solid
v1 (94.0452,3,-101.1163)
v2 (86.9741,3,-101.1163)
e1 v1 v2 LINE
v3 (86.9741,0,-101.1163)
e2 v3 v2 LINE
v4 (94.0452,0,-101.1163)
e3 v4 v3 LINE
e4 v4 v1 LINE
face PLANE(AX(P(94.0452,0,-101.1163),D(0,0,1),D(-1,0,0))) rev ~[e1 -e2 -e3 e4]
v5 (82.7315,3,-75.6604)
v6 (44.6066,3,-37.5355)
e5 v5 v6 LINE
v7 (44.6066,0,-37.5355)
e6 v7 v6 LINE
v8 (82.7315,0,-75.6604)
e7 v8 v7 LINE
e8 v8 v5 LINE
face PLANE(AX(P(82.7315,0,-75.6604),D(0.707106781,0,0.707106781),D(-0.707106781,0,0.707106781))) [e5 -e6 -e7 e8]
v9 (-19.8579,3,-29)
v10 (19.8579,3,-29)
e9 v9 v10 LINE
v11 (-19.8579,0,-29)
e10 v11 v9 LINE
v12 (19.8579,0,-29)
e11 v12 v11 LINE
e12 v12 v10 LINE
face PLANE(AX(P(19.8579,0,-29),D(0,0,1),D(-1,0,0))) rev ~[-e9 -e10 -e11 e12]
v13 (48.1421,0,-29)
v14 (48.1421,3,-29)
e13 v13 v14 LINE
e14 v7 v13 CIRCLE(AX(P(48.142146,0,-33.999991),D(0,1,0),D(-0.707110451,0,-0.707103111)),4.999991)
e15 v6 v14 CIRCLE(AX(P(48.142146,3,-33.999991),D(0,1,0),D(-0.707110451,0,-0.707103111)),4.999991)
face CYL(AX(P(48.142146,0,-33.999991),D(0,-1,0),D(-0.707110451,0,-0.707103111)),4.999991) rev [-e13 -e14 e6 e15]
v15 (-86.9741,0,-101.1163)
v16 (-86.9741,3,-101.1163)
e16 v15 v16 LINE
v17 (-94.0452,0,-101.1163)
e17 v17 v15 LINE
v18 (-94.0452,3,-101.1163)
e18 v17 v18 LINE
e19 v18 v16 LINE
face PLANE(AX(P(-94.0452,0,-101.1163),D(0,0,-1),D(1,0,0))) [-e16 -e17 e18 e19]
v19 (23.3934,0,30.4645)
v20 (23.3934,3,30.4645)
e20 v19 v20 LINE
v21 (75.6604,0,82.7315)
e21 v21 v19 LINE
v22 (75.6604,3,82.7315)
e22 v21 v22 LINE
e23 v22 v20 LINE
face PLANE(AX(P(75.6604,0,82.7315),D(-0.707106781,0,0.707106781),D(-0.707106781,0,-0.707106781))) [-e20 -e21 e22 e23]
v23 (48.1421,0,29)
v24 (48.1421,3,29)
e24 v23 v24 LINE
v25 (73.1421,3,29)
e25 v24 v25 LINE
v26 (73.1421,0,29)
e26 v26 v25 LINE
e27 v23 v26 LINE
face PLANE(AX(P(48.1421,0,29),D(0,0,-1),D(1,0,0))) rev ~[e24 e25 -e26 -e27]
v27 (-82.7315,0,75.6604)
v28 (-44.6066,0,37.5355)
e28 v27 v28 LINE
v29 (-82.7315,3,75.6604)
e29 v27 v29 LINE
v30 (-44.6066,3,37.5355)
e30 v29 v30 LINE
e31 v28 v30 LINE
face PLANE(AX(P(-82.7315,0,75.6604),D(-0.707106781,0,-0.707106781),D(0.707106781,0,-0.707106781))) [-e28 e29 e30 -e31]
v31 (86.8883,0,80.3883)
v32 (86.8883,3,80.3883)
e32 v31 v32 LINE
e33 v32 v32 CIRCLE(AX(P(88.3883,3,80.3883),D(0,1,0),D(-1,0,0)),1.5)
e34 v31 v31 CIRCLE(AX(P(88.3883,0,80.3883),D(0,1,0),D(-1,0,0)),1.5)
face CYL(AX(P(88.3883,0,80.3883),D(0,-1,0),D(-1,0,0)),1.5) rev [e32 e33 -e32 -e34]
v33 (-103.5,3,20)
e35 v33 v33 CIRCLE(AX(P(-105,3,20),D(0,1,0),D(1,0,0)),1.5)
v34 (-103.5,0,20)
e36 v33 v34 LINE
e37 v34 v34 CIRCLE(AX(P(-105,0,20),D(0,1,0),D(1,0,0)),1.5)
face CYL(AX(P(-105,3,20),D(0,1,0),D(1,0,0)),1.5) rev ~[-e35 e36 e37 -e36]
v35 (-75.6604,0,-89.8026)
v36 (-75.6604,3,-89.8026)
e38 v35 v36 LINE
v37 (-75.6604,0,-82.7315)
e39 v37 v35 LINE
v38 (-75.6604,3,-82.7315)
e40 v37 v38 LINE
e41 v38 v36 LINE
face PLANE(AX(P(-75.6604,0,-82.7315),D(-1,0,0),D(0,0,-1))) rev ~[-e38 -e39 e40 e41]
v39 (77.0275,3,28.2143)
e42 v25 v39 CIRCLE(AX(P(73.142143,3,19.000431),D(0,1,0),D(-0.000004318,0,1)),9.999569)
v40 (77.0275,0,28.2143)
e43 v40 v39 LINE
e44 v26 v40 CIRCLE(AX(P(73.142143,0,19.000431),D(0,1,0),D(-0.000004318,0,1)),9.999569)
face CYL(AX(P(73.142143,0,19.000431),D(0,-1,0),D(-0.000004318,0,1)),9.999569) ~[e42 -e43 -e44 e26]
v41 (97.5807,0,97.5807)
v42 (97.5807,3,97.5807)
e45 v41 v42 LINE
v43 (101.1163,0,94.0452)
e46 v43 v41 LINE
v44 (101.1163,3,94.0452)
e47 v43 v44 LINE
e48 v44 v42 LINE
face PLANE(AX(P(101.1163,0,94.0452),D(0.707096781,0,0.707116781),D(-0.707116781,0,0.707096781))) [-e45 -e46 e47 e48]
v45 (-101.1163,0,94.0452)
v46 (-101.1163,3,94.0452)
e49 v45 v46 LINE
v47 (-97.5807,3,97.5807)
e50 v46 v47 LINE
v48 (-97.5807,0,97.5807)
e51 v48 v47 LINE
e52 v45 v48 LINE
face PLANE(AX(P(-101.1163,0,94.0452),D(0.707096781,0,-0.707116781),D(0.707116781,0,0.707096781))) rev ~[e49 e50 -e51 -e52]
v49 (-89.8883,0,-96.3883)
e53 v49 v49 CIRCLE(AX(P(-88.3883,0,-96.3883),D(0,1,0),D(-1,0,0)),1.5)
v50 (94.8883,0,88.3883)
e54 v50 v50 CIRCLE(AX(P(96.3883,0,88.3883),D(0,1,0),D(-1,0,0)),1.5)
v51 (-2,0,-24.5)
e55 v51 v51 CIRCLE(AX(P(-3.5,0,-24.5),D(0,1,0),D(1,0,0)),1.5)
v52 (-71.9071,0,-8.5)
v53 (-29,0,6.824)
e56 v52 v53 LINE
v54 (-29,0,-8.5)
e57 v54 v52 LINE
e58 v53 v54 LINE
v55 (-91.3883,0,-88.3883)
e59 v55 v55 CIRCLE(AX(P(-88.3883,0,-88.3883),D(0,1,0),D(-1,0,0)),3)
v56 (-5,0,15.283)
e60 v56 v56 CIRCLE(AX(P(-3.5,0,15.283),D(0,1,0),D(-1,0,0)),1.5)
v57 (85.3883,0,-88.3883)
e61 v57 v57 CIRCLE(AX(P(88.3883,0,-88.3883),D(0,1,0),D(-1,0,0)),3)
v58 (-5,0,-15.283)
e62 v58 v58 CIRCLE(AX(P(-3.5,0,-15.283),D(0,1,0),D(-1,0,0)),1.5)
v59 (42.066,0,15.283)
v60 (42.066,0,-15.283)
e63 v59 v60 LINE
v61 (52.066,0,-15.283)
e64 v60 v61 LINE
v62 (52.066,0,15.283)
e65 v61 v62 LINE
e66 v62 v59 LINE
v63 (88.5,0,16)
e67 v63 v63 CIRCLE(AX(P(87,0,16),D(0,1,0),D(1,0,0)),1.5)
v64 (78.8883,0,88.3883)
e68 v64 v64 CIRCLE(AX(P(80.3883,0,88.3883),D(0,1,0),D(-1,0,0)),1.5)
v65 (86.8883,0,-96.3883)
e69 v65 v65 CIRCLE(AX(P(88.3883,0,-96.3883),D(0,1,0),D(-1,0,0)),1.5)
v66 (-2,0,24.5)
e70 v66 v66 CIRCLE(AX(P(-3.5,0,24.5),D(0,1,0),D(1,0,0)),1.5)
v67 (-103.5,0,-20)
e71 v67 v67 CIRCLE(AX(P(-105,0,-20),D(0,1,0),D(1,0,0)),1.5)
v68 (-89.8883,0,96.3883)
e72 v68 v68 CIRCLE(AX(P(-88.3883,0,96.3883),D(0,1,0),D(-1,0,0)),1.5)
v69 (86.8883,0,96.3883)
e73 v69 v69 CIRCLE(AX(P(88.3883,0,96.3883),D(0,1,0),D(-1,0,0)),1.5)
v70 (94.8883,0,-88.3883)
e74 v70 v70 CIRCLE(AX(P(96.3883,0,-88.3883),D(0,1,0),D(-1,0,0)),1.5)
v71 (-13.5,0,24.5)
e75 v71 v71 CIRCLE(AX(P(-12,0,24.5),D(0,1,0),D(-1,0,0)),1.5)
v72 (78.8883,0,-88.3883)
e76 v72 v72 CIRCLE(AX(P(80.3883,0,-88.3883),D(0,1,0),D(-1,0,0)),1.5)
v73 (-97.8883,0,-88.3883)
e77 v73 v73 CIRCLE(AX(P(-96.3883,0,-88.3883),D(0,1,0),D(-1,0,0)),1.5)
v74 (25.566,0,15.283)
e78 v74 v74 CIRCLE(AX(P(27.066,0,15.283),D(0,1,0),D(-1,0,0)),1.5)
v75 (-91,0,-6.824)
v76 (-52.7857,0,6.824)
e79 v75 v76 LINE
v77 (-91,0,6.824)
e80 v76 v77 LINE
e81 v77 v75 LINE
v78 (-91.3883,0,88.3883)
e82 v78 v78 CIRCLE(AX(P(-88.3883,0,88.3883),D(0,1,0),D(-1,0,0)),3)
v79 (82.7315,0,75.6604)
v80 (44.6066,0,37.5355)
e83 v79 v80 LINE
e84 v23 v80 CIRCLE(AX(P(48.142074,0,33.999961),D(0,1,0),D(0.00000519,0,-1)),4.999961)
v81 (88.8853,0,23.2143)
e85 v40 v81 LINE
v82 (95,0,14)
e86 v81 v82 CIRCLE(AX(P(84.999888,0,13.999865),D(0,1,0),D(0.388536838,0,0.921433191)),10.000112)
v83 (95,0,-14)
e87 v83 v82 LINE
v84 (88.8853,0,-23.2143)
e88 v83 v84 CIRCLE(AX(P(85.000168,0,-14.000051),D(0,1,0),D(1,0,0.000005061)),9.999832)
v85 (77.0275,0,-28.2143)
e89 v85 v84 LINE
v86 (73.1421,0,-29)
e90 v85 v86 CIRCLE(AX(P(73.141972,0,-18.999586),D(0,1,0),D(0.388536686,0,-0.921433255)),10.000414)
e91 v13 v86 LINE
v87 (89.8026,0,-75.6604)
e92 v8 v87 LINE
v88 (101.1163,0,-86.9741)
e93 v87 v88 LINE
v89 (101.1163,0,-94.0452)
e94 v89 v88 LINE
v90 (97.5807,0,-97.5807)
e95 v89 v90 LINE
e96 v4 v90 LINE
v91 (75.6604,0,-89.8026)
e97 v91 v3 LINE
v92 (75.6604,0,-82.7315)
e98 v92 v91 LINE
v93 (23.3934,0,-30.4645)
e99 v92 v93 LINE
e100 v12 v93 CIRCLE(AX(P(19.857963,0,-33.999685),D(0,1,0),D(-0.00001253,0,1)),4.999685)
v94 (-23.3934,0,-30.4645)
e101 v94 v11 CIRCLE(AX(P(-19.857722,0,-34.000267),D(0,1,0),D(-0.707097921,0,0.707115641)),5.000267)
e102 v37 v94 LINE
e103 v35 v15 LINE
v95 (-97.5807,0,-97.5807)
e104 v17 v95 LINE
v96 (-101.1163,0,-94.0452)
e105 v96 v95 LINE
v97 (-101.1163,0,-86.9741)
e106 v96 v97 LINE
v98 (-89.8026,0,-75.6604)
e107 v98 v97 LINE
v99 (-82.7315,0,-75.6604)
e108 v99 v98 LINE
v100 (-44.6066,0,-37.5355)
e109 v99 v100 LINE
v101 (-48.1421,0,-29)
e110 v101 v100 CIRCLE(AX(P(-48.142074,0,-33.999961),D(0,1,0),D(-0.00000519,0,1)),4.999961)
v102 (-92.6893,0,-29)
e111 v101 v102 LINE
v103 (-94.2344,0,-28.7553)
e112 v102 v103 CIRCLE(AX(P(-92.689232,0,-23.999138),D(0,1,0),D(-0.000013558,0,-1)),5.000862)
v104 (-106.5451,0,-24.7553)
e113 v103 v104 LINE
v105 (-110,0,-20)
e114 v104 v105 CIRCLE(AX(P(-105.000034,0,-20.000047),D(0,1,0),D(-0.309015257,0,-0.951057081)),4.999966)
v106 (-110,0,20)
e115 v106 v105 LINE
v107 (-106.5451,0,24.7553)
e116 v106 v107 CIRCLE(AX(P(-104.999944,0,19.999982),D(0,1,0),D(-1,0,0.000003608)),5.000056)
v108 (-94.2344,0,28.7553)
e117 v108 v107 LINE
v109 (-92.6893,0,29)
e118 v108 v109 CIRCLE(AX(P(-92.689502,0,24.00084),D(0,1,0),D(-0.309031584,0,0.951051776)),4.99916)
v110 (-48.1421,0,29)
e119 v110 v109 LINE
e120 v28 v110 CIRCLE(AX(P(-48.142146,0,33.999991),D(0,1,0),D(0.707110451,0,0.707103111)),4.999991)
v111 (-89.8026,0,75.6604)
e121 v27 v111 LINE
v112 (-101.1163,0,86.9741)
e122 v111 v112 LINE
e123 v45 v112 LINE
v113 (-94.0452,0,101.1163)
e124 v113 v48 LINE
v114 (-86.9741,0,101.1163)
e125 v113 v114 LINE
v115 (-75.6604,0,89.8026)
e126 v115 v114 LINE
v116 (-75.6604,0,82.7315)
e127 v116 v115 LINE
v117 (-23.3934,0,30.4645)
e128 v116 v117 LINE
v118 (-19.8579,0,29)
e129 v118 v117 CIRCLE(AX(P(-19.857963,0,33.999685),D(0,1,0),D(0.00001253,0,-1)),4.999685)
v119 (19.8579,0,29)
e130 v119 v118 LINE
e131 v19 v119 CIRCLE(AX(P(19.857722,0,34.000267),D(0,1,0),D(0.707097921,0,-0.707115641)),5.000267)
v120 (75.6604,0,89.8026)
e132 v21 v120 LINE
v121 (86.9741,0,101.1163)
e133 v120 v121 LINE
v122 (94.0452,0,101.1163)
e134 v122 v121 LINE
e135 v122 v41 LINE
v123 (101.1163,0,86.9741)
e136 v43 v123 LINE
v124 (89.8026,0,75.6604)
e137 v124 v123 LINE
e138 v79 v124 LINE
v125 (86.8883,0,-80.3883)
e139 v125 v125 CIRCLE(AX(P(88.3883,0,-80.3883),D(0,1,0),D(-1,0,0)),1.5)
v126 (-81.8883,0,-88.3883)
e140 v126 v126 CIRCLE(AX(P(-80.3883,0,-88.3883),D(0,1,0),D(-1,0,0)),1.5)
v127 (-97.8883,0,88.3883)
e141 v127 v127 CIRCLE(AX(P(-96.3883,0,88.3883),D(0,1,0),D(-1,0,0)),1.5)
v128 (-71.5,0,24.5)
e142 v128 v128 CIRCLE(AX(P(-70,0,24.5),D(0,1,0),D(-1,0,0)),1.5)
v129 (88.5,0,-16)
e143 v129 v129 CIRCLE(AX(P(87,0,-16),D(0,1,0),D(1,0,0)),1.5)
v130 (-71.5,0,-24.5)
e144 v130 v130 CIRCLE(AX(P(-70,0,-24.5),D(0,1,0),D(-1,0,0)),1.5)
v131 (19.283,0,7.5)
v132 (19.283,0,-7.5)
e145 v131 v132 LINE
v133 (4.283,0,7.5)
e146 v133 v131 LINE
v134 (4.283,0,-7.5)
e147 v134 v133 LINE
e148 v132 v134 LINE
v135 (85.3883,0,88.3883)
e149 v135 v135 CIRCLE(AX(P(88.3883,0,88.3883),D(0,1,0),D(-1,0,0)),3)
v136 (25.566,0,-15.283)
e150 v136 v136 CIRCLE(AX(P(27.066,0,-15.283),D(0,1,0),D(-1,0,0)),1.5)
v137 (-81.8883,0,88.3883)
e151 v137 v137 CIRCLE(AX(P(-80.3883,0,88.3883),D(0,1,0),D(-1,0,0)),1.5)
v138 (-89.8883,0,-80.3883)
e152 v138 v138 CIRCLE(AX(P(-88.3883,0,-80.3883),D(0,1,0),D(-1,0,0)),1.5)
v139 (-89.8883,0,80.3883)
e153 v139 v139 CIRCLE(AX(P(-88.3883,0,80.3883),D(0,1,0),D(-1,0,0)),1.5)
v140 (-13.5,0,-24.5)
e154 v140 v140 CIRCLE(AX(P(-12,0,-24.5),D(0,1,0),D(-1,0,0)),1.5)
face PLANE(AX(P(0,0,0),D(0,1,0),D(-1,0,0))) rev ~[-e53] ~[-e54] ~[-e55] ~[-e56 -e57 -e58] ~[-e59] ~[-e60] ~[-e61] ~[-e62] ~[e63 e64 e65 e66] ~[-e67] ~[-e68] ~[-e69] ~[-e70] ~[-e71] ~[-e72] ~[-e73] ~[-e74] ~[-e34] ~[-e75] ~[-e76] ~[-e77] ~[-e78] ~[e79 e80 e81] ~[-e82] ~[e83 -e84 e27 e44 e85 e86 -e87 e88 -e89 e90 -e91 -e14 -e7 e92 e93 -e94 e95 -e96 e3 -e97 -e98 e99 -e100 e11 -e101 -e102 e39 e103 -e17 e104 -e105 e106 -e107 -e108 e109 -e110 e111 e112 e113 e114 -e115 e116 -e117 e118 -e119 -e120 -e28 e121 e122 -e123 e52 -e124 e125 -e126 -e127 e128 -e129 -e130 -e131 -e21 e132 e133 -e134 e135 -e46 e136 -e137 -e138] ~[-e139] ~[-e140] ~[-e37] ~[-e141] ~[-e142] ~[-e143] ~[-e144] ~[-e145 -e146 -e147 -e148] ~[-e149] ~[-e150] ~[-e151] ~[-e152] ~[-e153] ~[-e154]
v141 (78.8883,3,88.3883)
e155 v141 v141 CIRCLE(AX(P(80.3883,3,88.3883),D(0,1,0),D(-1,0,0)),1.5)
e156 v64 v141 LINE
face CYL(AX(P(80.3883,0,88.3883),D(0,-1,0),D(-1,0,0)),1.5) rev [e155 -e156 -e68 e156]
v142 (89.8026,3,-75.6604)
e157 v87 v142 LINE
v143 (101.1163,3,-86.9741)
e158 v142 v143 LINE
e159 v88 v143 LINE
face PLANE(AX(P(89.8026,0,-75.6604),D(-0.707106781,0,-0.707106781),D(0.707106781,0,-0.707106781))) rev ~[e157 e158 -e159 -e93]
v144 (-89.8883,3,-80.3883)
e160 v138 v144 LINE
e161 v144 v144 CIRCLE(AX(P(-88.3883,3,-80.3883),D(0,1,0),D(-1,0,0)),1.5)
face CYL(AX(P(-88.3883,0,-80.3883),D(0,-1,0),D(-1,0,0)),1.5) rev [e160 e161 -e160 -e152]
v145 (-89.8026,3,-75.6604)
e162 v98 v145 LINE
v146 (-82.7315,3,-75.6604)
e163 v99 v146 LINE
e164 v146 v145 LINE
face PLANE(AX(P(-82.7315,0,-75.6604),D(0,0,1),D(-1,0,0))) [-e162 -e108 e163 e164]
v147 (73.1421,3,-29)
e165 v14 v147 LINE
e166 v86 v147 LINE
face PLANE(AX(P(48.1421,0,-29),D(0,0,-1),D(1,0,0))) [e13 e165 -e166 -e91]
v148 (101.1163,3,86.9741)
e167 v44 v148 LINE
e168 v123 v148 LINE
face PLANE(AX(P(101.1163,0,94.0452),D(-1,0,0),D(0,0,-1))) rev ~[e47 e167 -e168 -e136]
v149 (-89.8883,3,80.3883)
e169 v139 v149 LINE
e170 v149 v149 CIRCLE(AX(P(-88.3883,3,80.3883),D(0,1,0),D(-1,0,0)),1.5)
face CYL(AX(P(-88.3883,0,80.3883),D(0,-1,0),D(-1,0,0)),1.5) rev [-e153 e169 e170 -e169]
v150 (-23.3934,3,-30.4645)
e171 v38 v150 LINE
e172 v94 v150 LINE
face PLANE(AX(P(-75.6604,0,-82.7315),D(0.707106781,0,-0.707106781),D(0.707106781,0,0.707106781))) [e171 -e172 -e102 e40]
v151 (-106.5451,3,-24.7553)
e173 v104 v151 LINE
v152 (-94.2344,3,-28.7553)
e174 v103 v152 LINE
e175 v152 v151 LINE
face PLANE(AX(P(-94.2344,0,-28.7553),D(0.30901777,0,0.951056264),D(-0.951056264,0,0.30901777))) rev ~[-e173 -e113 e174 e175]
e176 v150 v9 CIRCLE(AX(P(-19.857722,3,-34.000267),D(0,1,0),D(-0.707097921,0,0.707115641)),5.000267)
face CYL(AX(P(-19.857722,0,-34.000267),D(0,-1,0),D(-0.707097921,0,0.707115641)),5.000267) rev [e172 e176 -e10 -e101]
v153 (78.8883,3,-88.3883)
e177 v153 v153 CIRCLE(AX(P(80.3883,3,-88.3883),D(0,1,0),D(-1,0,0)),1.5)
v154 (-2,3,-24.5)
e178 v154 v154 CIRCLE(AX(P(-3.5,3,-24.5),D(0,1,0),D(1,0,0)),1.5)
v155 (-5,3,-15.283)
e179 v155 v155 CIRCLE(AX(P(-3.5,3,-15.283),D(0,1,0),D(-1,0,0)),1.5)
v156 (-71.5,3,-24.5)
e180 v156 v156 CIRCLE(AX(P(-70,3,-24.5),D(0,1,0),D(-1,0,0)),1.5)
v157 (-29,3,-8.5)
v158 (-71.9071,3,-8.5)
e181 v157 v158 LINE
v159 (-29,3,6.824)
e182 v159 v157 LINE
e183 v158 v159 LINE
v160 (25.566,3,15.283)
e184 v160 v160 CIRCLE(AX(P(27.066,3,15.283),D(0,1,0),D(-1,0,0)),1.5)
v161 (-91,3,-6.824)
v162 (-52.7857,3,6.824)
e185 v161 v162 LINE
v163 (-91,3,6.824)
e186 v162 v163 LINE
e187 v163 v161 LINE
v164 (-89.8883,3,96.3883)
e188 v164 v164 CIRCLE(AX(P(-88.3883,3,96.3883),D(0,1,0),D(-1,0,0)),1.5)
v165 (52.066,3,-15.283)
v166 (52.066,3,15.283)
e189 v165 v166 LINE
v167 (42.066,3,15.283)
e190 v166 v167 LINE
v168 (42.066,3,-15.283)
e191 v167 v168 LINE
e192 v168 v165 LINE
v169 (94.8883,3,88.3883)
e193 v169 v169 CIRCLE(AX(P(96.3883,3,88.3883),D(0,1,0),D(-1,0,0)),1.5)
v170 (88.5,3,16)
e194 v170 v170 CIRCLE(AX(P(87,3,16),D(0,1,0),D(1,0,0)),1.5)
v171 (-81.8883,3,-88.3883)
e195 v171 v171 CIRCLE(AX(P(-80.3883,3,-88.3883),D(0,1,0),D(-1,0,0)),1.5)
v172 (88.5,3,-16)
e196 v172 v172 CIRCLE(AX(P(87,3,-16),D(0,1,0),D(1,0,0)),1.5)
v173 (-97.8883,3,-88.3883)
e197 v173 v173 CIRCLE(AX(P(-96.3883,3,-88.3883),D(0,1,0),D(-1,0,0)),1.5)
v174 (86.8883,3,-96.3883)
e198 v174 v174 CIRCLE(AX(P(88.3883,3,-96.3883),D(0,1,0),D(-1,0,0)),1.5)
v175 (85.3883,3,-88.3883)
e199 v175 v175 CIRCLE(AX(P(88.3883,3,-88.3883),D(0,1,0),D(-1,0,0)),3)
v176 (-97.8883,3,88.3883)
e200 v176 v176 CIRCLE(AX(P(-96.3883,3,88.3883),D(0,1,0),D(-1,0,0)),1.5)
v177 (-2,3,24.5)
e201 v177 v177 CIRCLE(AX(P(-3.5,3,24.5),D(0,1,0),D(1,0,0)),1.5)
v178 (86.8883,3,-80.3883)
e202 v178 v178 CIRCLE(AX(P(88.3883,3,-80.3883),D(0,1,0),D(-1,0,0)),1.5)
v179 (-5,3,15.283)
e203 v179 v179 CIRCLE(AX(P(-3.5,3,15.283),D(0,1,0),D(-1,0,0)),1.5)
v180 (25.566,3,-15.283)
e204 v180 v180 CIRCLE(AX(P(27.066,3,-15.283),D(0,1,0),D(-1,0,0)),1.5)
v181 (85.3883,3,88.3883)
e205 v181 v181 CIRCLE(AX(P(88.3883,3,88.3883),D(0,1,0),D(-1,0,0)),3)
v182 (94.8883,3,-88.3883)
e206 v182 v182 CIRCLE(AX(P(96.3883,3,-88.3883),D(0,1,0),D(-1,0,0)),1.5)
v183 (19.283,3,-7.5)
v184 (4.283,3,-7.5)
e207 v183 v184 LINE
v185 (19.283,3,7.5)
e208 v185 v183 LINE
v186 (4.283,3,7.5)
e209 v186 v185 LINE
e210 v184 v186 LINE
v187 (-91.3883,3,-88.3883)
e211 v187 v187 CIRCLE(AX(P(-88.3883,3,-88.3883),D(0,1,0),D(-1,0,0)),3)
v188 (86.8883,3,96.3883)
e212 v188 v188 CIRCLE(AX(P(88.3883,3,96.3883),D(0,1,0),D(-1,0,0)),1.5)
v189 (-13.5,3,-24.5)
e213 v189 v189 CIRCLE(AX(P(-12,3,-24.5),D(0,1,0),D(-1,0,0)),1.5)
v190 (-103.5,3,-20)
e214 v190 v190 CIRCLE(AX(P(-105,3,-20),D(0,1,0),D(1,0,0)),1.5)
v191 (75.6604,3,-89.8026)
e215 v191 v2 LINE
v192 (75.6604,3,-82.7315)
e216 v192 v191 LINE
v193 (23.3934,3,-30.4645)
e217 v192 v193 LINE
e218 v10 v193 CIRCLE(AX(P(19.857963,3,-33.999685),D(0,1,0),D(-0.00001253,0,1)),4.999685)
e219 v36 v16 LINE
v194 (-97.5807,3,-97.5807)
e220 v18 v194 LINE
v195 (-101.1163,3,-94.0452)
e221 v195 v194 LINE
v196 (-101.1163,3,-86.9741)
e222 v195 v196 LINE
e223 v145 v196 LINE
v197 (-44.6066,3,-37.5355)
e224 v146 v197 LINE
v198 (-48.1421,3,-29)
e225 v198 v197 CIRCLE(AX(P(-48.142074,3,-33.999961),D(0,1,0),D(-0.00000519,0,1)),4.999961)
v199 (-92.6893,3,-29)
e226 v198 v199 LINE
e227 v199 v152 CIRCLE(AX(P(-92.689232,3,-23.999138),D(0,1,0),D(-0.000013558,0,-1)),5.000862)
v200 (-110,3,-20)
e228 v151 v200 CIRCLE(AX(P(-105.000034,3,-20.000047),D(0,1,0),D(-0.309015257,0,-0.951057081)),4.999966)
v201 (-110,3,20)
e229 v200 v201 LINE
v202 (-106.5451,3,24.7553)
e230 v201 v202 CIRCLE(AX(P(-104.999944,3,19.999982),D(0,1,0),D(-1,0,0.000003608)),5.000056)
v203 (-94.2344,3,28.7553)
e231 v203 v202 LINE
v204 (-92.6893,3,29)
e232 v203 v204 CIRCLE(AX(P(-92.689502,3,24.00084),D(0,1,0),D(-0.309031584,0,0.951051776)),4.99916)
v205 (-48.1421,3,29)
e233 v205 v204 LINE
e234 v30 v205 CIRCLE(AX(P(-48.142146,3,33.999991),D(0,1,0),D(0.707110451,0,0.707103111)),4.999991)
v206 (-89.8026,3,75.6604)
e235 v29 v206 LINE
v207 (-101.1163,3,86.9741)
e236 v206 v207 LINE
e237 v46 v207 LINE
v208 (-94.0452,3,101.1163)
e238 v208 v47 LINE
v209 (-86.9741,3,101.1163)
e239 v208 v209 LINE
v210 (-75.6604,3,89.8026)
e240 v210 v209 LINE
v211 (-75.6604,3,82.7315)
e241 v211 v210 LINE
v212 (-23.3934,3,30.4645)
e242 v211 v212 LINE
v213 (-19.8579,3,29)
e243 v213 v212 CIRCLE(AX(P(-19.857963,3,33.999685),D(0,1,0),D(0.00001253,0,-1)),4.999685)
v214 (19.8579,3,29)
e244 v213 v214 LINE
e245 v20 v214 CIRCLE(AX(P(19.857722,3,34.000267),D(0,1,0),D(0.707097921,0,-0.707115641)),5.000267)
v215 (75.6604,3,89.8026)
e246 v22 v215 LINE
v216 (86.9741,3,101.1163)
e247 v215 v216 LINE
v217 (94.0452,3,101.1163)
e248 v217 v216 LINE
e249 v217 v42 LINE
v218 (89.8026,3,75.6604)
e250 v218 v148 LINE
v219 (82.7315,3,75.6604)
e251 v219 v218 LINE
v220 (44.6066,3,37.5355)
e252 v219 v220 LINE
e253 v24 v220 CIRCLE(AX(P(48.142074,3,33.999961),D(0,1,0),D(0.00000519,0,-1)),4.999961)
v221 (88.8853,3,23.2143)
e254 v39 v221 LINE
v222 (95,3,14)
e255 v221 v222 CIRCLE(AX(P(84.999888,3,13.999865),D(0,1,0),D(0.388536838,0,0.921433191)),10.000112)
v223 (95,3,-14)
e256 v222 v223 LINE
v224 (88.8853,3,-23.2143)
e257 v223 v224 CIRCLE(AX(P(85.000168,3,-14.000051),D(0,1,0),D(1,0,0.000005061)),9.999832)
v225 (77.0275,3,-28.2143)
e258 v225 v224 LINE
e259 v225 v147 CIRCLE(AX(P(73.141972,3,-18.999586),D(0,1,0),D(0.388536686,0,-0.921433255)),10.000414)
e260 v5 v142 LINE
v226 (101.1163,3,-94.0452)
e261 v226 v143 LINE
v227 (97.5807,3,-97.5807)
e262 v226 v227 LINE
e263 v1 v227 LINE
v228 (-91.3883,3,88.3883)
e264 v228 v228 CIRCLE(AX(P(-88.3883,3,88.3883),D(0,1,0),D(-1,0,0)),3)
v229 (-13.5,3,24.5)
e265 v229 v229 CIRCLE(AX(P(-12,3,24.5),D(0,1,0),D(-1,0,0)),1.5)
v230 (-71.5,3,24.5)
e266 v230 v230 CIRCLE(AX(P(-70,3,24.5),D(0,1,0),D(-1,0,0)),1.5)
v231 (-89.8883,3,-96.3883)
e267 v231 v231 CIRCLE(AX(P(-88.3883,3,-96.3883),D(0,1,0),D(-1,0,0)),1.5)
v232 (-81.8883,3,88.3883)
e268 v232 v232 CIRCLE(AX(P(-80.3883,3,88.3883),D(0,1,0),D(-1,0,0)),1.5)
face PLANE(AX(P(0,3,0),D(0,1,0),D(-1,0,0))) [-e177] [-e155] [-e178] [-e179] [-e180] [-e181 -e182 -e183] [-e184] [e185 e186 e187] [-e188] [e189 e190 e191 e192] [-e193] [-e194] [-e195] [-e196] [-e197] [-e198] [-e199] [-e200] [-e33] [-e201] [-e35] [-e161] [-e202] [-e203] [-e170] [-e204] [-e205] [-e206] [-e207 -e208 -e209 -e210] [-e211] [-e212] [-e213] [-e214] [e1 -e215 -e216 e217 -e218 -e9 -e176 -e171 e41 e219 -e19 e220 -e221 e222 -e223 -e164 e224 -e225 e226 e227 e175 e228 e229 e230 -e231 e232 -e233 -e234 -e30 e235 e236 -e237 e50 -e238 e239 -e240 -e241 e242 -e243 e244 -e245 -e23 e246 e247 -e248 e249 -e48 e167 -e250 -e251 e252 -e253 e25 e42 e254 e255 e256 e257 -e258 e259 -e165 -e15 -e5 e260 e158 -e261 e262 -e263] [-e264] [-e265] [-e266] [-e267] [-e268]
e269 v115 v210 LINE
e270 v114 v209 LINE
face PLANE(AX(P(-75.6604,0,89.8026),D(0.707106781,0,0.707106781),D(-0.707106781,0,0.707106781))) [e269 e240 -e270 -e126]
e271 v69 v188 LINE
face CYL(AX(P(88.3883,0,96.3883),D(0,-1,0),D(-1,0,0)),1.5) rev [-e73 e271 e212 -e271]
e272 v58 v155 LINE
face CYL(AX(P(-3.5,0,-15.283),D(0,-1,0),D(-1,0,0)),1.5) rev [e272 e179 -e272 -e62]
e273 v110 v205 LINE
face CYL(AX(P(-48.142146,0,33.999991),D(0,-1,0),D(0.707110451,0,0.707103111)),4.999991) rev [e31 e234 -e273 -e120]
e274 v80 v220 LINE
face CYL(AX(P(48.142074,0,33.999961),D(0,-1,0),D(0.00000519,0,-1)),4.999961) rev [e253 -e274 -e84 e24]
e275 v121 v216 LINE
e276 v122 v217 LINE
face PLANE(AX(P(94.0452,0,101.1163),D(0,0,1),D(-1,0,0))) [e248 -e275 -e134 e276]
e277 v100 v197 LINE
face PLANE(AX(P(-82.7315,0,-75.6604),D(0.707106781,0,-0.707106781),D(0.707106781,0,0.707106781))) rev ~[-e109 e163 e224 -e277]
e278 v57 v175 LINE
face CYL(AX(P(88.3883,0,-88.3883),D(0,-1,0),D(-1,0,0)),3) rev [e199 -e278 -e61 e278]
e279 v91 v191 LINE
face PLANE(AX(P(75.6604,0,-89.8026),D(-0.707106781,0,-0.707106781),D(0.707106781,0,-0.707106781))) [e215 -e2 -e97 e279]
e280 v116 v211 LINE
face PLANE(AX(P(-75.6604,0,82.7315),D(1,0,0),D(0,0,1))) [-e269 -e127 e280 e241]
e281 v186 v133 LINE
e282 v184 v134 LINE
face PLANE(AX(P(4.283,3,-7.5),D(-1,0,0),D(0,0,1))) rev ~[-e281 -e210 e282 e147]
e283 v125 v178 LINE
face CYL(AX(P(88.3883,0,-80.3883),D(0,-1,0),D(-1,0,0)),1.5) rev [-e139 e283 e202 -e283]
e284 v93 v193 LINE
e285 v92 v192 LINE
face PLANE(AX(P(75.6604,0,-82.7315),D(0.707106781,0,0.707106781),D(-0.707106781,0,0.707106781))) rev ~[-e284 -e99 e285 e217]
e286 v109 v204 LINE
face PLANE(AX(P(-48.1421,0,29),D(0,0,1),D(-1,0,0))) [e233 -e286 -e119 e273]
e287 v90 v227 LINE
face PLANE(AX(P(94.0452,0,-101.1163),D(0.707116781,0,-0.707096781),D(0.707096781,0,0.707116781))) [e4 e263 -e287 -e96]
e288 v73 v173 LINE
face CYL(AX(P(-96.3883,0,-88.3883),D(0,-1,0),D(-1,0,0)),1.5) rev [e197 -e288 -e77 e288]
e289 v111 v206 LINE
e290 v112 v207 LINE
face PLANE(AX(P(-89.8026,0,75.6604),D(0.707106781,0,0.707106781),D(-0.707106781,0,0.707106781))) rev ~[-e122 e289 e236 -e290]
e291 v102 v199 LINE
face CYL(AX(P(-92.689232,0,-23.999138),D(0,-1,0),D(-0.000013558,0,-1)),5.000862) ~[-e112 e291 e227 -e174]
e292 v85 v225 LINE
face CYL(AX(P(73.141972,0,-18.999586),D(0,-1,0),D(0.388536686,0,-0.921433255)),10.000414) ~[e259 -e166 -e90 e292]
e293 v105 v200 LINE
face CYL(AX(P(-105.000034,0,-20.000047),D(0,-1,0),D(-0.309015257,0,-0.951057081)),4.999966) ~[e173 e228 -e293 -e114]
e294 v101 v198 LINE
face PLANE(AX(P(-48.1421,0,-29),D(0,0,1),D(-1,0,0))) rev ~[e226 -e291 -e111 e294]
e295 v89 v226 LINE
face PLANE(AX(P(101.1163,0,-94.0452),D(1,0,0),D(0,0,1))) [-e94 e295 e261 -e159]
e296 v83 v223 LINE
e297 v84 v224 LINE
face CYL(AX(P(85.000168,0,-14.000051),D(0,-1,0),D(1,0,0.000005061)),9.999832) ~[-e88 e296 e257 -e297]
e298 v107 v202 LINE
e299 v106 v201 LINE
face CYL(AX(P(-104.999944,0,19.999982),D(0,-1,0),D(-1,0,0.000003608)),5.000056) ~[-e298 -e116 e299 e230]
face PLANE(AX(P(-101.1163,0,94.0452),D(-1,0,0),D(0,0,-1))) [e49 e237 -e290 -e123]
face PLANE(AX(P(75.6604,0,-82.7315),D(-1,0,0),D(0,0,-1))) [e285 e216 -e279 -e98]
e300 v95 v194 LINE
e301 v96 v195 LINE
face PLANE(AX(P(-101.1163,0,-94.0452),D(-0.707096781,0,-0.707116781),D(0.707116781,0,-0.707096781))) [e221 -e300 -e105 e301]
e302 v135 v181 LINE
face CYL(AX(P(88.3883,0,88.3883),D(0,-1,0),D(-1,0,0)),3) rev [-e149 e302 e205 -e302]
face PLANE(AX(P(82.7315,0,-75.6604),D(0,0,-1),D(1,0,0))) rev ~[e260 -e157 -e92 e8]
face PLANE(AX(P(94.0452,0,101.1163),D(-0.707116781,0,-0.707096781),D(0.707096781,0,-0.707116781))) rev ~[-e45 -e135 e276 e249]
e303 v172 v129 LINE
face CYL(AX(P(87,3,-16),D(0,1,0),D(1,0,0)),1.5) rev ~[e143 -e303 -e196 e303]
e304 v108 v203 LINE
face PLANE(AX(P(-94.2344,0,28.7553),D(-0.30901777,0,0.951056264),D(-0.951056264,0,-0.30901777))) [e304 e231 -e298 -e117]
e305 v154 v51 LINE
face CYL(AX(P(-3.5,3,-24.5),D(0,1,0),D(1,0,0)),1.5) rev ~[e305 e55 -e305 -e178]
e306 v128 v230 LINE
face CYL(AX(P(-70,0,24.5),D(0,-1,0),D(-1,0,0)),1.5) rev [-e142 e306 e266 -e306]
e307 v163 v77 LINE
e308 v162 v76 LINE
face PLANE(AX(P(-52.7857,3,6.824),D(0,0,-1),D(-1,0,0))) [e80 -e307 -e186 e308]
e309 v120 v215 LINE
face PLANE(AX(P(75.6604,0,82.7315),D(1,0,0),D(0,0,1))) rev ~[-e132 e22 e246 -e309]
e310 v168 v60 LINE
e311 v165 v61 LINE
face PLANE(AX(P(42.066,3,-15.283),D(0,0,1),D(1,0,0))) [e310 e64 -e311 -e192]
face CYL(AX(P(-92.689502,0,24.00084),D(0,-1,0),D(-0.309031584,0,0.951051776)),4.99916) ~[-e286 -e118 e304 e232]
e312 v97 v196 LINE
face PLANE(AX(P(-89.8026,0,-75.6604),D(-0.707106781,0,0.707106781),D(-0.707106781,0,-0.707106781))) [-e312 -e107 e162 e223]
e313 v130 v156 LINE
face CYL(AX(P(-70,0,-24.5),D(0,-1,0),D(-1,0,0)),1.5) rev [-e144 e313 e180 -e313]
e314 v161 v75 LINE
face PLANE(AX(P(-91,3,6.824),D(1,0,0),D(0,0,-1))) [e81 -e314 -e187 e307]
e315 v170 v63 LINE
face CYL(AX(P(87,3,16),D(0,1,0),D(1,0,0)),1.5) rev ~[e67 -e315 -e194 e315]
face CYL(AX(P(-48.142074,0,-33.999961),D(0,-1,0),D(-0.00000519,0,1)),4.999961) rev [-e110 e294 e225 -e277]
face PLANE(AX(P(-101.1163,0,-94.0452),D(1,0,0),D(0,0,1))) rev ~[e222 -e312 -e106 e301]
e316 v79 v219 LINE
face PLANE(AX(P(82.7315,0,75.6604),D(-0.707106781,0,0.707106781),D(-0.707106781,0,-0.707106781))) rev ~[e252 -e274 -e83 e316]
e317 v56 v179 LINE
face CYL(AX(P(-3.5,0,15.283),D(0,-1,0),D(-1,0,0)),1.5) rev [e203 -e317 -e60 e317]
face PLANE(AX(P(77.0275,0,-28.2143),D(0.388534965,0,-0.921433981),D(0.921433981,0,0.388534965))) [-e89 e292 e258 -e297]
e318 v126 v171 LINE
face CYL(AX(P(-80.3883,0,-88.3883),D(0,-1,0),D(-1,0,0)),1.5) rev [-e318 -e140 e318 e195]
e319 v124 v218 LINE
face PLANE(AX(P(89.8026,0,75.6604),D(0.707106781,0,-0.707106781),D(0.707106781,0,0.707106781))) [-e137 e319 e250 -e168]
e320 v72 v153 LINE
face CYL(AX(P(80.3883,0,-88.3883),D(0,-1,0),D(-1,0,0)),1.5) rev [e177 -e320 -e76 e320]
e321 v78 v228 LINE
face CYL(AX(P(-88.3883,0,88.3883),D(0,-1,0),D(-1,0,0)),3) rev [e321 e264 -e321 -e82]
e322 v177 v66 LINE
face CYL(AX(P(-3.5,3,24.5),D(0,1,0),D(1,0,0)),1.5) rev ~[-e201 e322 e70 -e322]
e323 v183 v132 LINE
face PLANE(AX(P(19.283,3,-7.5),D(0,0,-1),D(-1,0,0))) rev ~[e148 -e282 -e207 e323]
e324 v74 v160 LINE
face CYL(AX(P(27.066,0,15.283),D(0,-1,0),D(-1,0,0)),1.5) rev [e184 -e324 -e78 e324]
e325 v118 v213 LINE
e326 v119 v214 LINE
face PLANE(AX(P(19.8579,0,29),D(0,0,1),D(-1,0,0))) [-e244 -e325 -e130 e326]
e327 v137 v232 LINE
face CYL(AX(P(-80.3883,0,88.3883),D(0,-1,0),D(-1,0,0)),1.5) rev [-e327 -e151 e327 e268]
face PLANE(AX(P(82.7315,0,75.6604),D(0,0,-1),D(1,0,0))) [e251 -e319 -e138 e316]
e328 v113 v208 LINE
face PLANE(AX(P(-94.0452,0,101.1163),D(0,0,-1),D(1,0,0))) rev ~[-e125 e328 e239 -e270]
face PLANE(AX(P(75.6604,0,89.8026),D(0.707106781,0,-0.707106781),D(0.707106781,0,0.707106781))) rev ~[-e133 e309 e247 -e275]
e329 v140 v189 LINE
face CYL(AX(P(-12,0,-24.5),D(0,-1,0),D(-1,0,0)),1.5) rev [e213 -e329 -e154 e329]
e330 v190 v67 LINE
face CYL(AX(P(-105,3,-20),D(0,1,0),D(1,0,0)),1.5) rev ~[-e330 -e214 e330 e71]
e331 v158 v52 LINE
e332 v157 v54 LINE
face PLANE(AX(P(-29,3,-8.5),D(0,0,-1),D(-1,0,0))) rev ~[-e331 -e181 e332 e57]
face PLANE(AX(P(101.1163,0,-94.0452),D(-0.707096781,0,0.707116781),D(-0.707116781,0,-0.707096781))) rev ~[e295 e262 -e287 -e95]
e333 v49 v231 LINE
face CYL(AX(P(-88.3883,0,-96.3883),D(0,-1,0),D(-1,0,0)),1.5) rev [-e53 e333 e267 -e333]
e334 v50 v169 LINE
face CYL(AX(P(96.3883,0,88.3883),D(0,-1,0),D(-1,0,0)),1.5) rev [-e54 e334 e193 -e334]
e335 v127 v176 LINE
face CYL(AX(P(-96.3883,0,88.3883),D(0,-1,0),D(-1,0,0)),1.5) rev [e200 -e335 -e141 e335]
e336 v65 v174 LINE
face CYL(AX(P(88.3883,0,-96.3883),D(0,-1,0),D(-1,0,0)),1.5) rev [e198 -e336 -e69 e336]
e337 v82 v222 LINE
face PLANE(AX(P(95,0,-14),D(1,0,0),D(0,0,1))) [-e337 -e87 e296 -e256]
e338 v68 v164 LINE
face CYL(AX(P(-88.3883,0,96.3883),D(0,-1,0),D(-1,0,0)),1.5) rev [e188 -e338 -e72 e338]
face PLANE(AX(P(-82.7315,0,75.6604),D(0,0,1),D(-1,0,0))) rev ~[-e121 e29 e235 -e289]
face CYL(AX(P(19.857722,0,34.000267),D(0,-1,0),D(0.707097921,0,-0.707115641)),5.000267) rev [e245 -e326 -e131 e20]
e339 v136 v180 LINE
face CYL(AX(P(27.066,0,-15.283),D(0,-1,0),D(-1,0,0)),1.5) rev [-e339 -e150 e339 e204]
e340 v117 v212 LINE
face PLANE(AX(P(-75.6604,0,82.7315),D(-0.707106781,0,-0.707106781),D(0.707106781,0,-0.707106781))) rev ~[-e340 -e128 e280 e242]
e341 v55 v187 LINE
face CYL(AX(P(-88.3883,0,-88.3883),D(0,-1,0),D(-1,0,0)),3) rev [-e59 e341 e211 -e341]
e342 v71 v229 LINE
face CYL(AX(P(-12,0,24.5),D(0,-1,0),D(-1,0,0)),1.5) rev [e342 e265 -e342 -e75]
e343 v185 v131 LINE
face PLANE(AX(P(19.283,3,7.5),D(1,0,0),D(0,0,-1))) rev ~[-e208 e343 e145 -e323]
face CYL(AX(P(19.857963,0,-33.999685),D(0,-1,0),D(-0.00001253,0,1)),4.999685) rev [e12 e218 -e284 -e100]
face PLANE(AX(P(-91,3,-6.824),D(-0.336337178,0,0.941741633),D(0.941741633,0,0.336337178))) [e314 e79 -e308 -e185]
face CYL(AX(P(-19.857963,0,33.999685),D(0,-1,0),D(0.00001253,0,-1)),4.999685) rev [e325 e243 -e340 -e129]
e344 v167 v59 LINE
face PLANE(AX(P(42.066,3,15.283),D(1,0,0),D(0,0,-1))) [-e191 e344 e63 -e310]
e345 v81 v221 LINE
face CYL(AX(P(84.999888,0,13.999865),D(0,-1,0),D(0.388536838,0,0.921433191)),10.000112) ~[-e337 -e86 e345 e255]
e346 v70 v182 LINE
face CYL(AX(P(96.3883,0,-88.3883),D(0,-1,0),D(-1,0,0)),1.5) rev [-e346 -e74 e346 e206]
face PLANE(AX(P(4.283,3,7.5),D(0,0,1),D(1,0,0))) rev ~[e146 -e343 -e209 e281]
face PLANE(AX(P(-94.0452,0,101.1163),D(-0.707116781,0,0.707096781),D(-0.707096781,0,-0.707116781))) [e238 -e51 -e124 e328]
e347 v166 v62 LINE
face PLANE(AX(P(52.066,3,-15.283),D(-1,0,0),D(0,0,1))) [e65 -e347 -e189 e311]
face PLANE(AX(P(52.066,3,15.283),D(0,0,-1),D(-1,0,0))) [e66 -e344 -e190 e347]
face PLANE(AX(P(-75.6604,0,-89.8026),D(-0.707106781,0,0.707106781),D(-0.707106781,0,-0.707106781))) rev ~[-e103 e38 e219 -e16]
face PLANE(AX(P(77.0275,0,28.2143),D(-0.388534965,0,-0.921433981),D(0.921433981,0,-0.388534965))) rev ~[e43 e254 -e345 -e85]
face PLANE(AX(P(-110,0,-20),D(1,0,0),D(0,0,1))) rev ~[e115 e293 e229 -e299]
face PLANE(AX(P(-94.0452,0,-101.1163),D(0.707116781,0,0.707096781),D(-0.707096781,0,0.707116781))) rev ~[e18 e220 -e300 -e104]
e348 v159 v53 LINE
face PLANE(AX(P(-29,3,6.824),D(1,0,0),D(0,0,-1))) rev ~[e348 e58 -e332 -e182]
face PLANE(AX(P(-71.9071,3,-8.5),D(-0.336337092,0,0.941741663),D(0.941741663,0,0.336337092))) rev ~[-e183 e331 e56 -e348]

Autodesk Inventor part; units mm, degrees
ref_plane "YZ Plane" through (0, 0, 0) normal (1, 0, 0) x (0, 1, 0)
ref_plane "XZ Plane" through (0, 0, 0) normal (0, 1, 0) x (-1, 0, 0)
ref_plane "XY Plane" through (0, 0, 0) normal (0, 0, 1) x (1, 0, 0)
sketch "Szkic1" plane through (0, 0, 0) normal (0, 1, 0) x (-1, 0, 0)
  line L0 (-112.8767, 0) -> (86.1409, 0) construction
  circle A0 centre (0, 0) radius 125 construction
  line L1 (0, 0) -> (-129.3005, -129.3005) construction
  line L2 (0, 0) -> (182.8585, 0) construction
  line L3 (0, 0) -> (-129.3005, 129.3005) construction
  circle A1 centre (-88.3883, -88.3883) radius 63.5 construction
  circle A2 centre (-88.3883, 88.3883) radius 63.5 construction
  line L4 (-88.3883, -88.3883) -> (-106.6347, -70.142) construction
  line L5 (-88.3883, -88.3883) -> (-62.5841, -88.3883) construction
  line L6 (0, 0) -> (0, 184.1198) construction
  line L7 (0, 0) -> (129.3005, -129.3005) construction
  line L8 (0, 0) -> (129.3005, 129.3005) construction
  circle A3 centre (88.3883, -88.3883) radius 63.5 construction
  circle A4 centre (88.3883, 88.3883) radius 63.5 construction
  circle A5 centre (70, -24.5) radius 1.5
  circle A6 centre (12, -24.5) radius 1.5
  circle A7 centre (70, 24.5) radius 1.5
  circle A8 centre (12, 24.5) radius 1.5
  line L9 (8.5, -28) -> (100, -28) construction
  line L10 (100, -28) -> (100, 0.6779) construction
  line L11 (8.5, 0) -> (8.5, -28) construction
  circle A9 centre (3.5, -15.283) radius 1.5
  circle A10 centre (-27.066, -15.283) radius 1.5
  circle A11 centre (3.5, 15.283) radius 1.5
  circle A12 centre (-27.066, 15.283) radius 1.5
  line L12 (-19.8579, -29) -> (0.4594, -29)
  line L13 (-75.6604, -82.7315) -> (-23.3934, -30.4645)
  arc A13 (-19.8579, -29) -> (-23.3934, -30.4645) centre (-19.8579, -34) ccw
  line L14 (-19.8579, 29) -> (0.4594, 29)
  arc A14 (-23.3934, 30.4645) -> (-19.8579, 29) centre (-19.8579, 34) ccw
  line L15 (48.1421, -29) -> (92.6893, -29)
  line L16 (19.8579, -29) -> (0.4594, -29)
  arc A15 (23.3934, -30.4645) -> (19.8579, -29) centre (19.8579, -34) ccw
  line L17 (19.8579, 29) -> (0.4594, 29)
  arc A16 (19.8579, 29) -> (23.3934, 30.4645) centre (19.8579, 34) ccw
  line L18 (-88.3883, -88.3883) -> (-88.3883, -65.5663) construction
  circle A17 centre (-80.3883, -88.3883) radius 1.5
  circle A18 centre (-88.3883, -80.3883) radius 1.5
  circle A19 centre (-88.3883, -88.3883) radius 3
  circle A20 centre (-88.3883, -96.3883) radius 1.5
  circle A21 centre (-96.3883, -88.3883) radius 1.5
  line L19 (-82.7315, -75.6604) -> (-89.8026, -75.6604)
  line L20 (-89.8026, -75.6604) -> (-101.1163, -86.9741)
  line L21 (-101.1163, -94.0452) -> (-101.1163, -86.9741)
  line L22 (-101.1163, -94.0452) -> (-97.5807, -97.5807)
  line L23 (-75.6604, -82.7315) -> (-75.6604, -89.8026)
  line L24 (-75.6604, -89.8026) -> (-86.9741, -101.1163)
  line L25 (-94.0452, -101.1163) -> (-86.9741, -101.1163)
  line L26 (-94.0452, -101.1163) -> (-97.5807, -97.5807)
  line L27 (-75.6604, 82.7315) -> (-23.3934, 30.4645)
  circle A22 centre (-80.3883, 88.3883) radius 1.5
  circle A23 centre (-88.3883, 80.3883) radius 1.5
  circle A24 centre (-88.3883, 88.3883) radius 3
  circle A25 centre (-88.3883, 96.3883) radius 1.5
  circle A26 centre (-96.3883, 88.3883) radius 1.5
  line L28 (-82.7315, 75.6604) -> (-89.8026, 75.6604)
  line L29 (-89.8026, 75.6604) -> (-101.1163, 86.9741)
  line L30 (-101.1163, 94.0452) -> (-101.1163, 86.9741)
  line L31 (-101.1163, 94.0452) -> (-97.5807, 97.5807)
  line L32 (-75.6604, 89.8026) -> (-86.9741, 101.1163)
  line L33 (-94.0452, 101.1163) -> (-86.9741, 101.1163)
  line L34 (-94.0452, 101.1163) -> (-97.5807, 97.5807)
  line L35 (-75.6604, 82.7315) -> (-75.6604, 89.8026)
  line L36 (88.3883, -88.3883) -> (106.6347, -70.142) construction
  line L37 (75.6604, -82.7315) -> (23.3934, -30.4645)
  line L38 (88.3883, -88.3883) -> (88.3883, -65.5663) construction
  circle A27 centre (80.3883, -88.3883) radius 1.5
  circle A28 centre (88.3883, -80.3883) radius 1.5
  circle A29 centre (88.3883, -88.3883) radius 3
  circle A30 centre (88.3883, -96.3883) radius 1.5
  circle A31 centre (96.3883, -88.3883) radius 1.5
  line L39 (82.7315, -75.6604) -> (89.8026, -75.6604)
  line L40 (89.8026, -75.6604) -> (101.1163, -86.9741)
  line L41 (101.1163, -94.0452) -> (101.1163, -86.9741)
  line L42 (101.1163, -94.0452) -> (97.5807, -97.5807)
  line L43 (75.6604, -89.8026) -> (86.9741, -101.1163)
  line L44 (94.0452, -101.1163) -> (86.9741, -101.1163)
  line L45 (94.0452, -101.1163) -> (97.5807, -97.5807)
  line L46 (75.6604, -82.7315) -> (75.6604, -89.8026)
  line L47 (75.6604, 82.7315) -> (23.3934, 30.4645)
  line L48 (75.6604, 89.8026) -> (86.9741, 101.1163)
  line L49 (94.0452, 101.1163) -> (86.9741, 101.1163)
  line L50 (82.7315, 75.6604) -> (89.8026, 75.6604)
  circle A32 centre (88.3883, 80.3883) radius 1.5
  circle A33 centre (80.3883, 88.3883) radius 1.5
  circle A34 centre (88.3883, 88.3883) radius 3
  line L51 (89.8026, 75.6604) -> (101.1163, 86.9741)
  circle A35 centre (96.3883, 88.3883) radius 1.5
  line L52 (101.1163, 94.0452) -> (101.1163, 86.9741)
  line L53 (101.1163, 94.0452) -> (97.5807, 97.5807)
  circle A36 centre (88.3883, 96.3883) radius 1.5
  line L54 (94.0452, 101.1163) -> (97.5807, 97.5807)
  line L55 (75.6604, 82.7315) -> (75.6604, 89.8026)
  line L56 (-196.7621, 0) -> (-196.7621, -23) construction
  line L57 (-196.7621, -23) -> (-302.8841, -23) construction
  line L58 (-302.8841, -23) -> (-302.8841, -70.142) construction
  line L59 (-302.8841, -70.142) -> (-413.5658, 0) construction
  line L60 (-196.7621, 0) -> (-196.7621, 23) construction
  line L61 (-196.7621, 23) -> (-302.8841, 23) construction
  line L62 (-302.8841, 23) -> (-302.8841, 70.142) construction
  line L63 (-302.8841, 70.142) -> (-413.5658, 0) construction
  line L64 (-82.7315, -75.6604) -> (-44.6066, -37.5355)
  arc A37 (-44.6066, -37.5355) -> (-48.1421, -29) centre (-48.1421, -34) ccw
  line L65 (82.7315, -75.6604) -> (44.6066, -37.5355)
  arc A38 (48.1421, -29) -> (44.6066, -37.5355) centre (48.1421, -34) ccw
  line L66 (94.2344, -28.7553) -> (106.5451, -24.7553)
  line L67 (110, -20) -> (110, 0)
  arc A39 (92.6893, -29) -> (94.2344, -28.7553) centre (92.6893, -24) ccw
  arc A40 (106.5451, -24.7553) -> (110, -20) centre (105, -20) ccw
  line L68 (-48.1421, -29) -> (-73.1421, -29)
  line L69 (-77.0275, -28.2143) -> (-88.8853, -23.2143)
  line L70 (-95, -14) -> (-95, 0)
  arc A41 (-77.0275, -28.2143) -> (-73.1421, -29) centre (-73.1421, -19) ccw
  arc A42 (-95, -14) -> (-88.8853, -23.2143) centre (-85, -14) ccw
  line L71 (48.1421, 29) -> (92.6893, 29)
  line L72 (-82.7315, 75.6604) -> (-44.6066, 37.5355)
  arc A43 (-48.1421, 29) -> (-44.6066, 37.5355) centre (-48.1421, 34) ccw
  arc A44 (44.6066, 37.5355) -> (48.1421, 29) centre (48.1421, 34) ccw
  line L73 (82.7315, 75.6604) -> (44.6066, 37.5355)
  line L74 (94.2344, 28.7553) -> (106.5451, 24.7553)
  line L75 (110, 20) -> (110, 0)
  arc A45 (110, 20) -> (106.5451, 24.7553) centre (105, 20) ccw
  line L76 (-48.1421, 29) -> (-73.1421, 29)
  line L77 (-77.0275, 28.2143) -> (-88.8853, 23.2143)
  line L78 (-95, 14) -> (-95, 0)
  arc A46 (-73.1421, 29) -> (-77.0275, 28.2143) centre (-73.1421, 19) ccw
  arc A47 (-88.8853, 23.2143) -> (-95, 14) centre (-85, 14) ccw
  arc A48 (94.2344, 28.7553) -> (92.6893, 29) centre (92.6893, 24) ccw
  point P0 (-96.6274, -86.0208)
  point P1 (-104.1875, -93.5809)
  point P2 (-99.7021, -99.7021)
  point P3 (-95, -29)
  point P4 (36.0711, -29)
  point P5 (93.4812, -29)
  point P6 (-85.5599, -88.3883)
  point P7 (-96.6274, 86.0208)
  point P8 (-85.5599, 88.3883)
  point P9 (96.6274, -86.0208)
  point P10 (104.1875, -93.5809)
  point P11 (99.7021, -99.7021)
  point P12 (85.5599, -88.3883)
  point P13 (96.6274, 86.0208)
  point P14 (85.5599, 88.3883)
  dimension "d0" = 250
  dimension "d1" = 135
  dimension "d3" = 127
  dimension "d4" = 127
  dimension "d10" = 135
  dimension "d12" = 3
  dimension "d13" = 24.5
  dimension "d14" = 58
  dimension "d15" = 70
  dimension "d16" = 3.5
  dimension "d17" = 28
  dimension "d19" = 30
  dimension "d20" = 3
  dimension "d22" = 5
  dimension "d23" = 15.283
  dimension "d32" = 5
  dimension "d37" = 30.566
  dimension "d64" = 3
  dimension "d65" = 8
  dimension "d66" = 8
  dimension "d67" = 6
  dimension "d70" = 10
  dimension "d73" = 5
  dimension "d74" = 13
  dimension "d75" = 5
  dimension "d76" = 5
  dimension "d77" = 110
  dimension "d78" = 20
  dimension "d79" = 29
  dimension "d80" = 18
  dimension "d81" = 91.5
  dimension "d82" = 10
  dimension "d83" = 95
  dimension "d84" = 14
  dimension "d85" = 25
extrude "Wyciągnięcie proste5" add sketch "Szkic1" along normal blind 3
sketch "Szkic2" plane through (0, 3, 0) normal (0, 1, 0) x (1, 0, 0)
  circle A0 centre (-88.3883, 88.3883) radius 3 projected
  circle A1 centre (-88.3883, -88.3883) radius 3 projected
  circle A2 centre (88.3883, -88.3883) radius 3 projected
  circle A3 centre (88.3883, 88.3883) radius 3 projected
  circle A4 centre (-88.3883, 96.3883) radius 1.5 projected
  circle A5 centre (-96.3883, 88.3883) radius 1.5 projected
  circle A6 centre (-88.3883, 80.3883) radius 1.5 projected
  circle A7 centre (-80.3883, 88.3883) radius 1.5 projected
  circle A8 centre (-96.3883, -88.3883) radius 1.5 projected
  circle A9 centre (-88.3883, -96.3883) radius 1.5 projected
  circle A10 centre (-88.3883, -80.3883) radius 1.5 projected
  circle A11 centre (-80.3883, -88.3883) radius 1.5 projected
  circle A12 centre (88.3883, -96.3883) radius 1.5 projected
  circle A13 centre (96.3883, -88.3883) radius 1.5 projected
  circle A14 centre (80.3883, -88.3883) radius 1.5 projected
  circle A15 centre (88.3883, -80.3883) radius 1.5 projected
  circle A16 centre (96.3883, 88.3883) radius 1.5 projected
  circle A17 centre (88.3883, 96.3883) radius 1.5 projected
  circle A18 centre (88.3883, 80.3883) radius 1.5 projected
  circle A19 centre (80.3883, 88.3883) radius 1.5 projected
  circle A20 centre (-3.5, -15.283) radius 1.5 projected
  circle A21 centre (27.066, -15.283) radius 1.5 projected
  circle A22 centre (27.066, 15.283) radius 1.5 projected
  circle A23 centre (-3.5, 15.283) radius 1.5 projected
  circle A24 centre (-70, -24.5) radius 1.5 projected
  circle A25 centre (-12, -24.5) radius 1.5 projected
  circle A26 centre (-12, 24.5) radius 1.5 projected
  circle A27 centre (-70, 24.5) radius 1.5 projected
  line L0 (82.7315, 75.6604) -> (89.8026, 75.6604) projected
  line L1 (89.8026, 75.6604) -> (101.1163, 86.9741) projected
  line L2 (101.1163, 86.9741) -> (101.1163, 94.0452) projected
  line L3 (101.1163, 94.0452) -> (94.0452, 101.1163) projected
  line L4 (94.0452, 101.1163) -> (86.9741, 101.1163) projected
  line L5 (86.9741, 101.1163) -> (75.6604, 89.8026) projected
  line L6 (75.6604, 89.8026) -> (75.6604, 82.7315) projected
  line L7 (75.6604, 82.7315) -> (23.3934, 30.4645) projected
  arc A28 (19.8579, 29) -> (23.3934, 30.4645) centre (19.8579, 34) ccw projected
  line L8 (19.8579, 29) -> (-19.8579, 29) projected
  arc A29 (-23.3934, 30.4645) -> (-19.8579, 29) centre (-19.8579, 34) ccw projected
  line L9 (-23.3934, 30.4645) -> (-75.6604, 82.7315) projected
  line L10 (-75.6604, 82.7315) -> (-75.6604, 89.8026) projected
  line L11 (-75.6604, 89.8026) -> (-86.9741, 101.1163) projected
  line L12 (-86.9741, 101.1163) -> (-94.0452, 101.1163) projected
  line L13 (-94.0452, 101.1163) -> (-101.1163, 94.0452) projected
  line L14 (-101.1163, 94.0452) -> (-101.1163, 86.9741) projected
  line L15 (-101.1163, 86.9741) -> (-89.8026, 75.6604) projected
  line L16 (-89.8026, 75.6604) -> (-82.7315, 75.6604) projected
  line L17 (-82.7315, 75.6604) -> (-44.6066, 37.5355) projected
  arc A30 (-48.1421, 29) -> (-44.6066, 37.5355) centre (-48.1421, 34) ccw projected
  line L18 (-48.1421, 29) -> (-92.6893, 29) projected
  arc A31 (-92.6893, 29) -> (-94.2344, 28.7553) centre (-92.6893, 24) ccw projected
  line L19 (-94.2344, 28.7553) -> (-106.5451, 24.7553) projected
  arc A32 (-106.5451, 24.7553) -> (-110, 20) centre (-105, 20) ccw projected
  line L20 (-110, 20) -> (-110, -20) projected
  arc A33 (-110, -20) -> (-106.5451, -24.7553) centre (-105, -20) ccw projected
  line L21 (-106.5451, -24.7553) -> (-94.2344, -28.7553) projected
  arc A34 (-94.2344, -28.7553) -> (-92.6893, -29) centre (-92.6893, -24) ccw projected
  line L22 (-92.6893, -29) -> (-48.1421, -29) projected
  arc A35 (-44.6066, -37.5355) -> (-48.1421, -29) centre (-48.1421, -34) ccw projected
  line L23 (-44.6066, -37.5355) -> (-82.7315, -75.6604) projected
  line L24 (-82.7315, -75.6604) -> (-89.8026, -75.6604) projected
  line L25 (-89.8026, -75.6604) -> (-101.1163, -86.9741) projected
  line L26 (-101.1163, -86.9741) -> (-101.1163, -94.0452) projected
  line L27 (-101.1163, -94.0452) -> (-94.0452, -101.1163) projected
  line L28 (-94.0452, -101.1163) -> (-86.9741, -101.1163) projected
  line L29 (-86.9741, -101.1163) -> (-75.6604, -89.8026) projected
  line L30 (-75.6604, -89.8026) -> (-75.6604, -82.7315) projected
  line L31 (-75.6604, -82.7315) -> (-23.3934, -30.4645) projected
  arc A36 (-19.8579, -29) -> (-23.3934, -30.4645) centre (-19.8579, -34) ccw projected
  line L32 (-19.8579, -29) -> (19.8579, -29) projected
  arc A37 (23.3934, -30.4645) -> (19.8579, -29) centre (19.8579, -34) ccw projected
  line L33 (23.3934, -30.4645) -> (75.6604, -82.7315) projected
  line L34 (75.6604, -82.7315) -> (75.6604, -89.8026) projected
  line L35 (75.6604, -89.8026) -> (86.9741, -101.1163) projected
  line L36 (86.9741, -101.1163) -> (94.0452, -101.1163) projected
  line L37 (94.0452, -101.1163) -> (101.1163, -94.0452) projected
  line L38 (101.1163, -94.0452) -> (101.1163, -86.9741) projected
  line L39 (101.1163, -86.9741) -> (89.8026, -75.6604) projected
  line L40 (89.8026, -75.6604) -> (82.7315, -75.6604) projected
  line L41 (82.7315, -75.6604) -> (44.6066, -37.5355) projected
  arc A38 (48.1421, -29) -> (44.6066, -37.5355) centre (48.1421, -34) ccw projected
  line L42 (48.1421, -29) -> (73.1421, -29) projected
  arc A39 (73.1421, -29) -> (77.0275, -28.2143) centre (73.1421, -19) ccw projected
  line L43 (77.0275, -28.2143) -> (88.8853, -23.2143) projected
  arc A40 (88.8853, -23.2143) -> (95, -14) centre (85, -14) ccw projected
  line L44 (95, -14) -> (95, 14) projected
  arc A41 (95, 14) -> (88.8853, 23.2143) centre (85, 14) ccw projected
  line L45 (88.8853, 23.2143) -> (77.0275, 28.2143) projected
  arc A42 (77.0275, 28.2143) -> (73.1421, 29) centre (73.1421, 19) ccw projected
  line L46 (73.1421, 29) -> (48.1421, 29) projected
  arc A43 (44.6066, 37.5355) -> (48.1421, 29) centre (48.1421, 34) ccw projected
  line L47 (44.6066, 37.5355) -> (82.7315, 75.6604) projected
  circle A44 centre (-3.5, 24.5) radius 1.5
  circle A45 centre (87, 16) radius 1.5
  circle A46 centre (-105, 20) radius 1.5
  line L48 (0, 0) -> (95, 0) construction
  line L49 (0, 0) -> (0, 60.6938) construction
  circle A47 centre (-3.5, -24.5) radius 1.5
  circle A48 centre (87, -16) radius 1.5
  circle A49 centre (-105, -20) radius 1.5
  line L50 (4.283, -7.5) -> (19.283, -7.5)
  line L51 (19.283, -7.5) -> (19.283, 7.5)
  line L52 (19.283, 7.5) -> (4.283, 7.5)
  line L53 (4.283, 7.5) -> (4.283, -7.5)
  line L54 (4.283, -7.5) -> (19.283, 7.5) construction
  line L55 (19.283, -7.5) -> (4.283, 7.5) construction
  line L56 (-95, 12.5) -> (-25, 12.5) construction
  line L57 (-25, 12.5) -> (-25, -12.5) construction
  line L58 (-25, -12.5) -> (-95, -12.5) construction
  line L59 (-95, -12.5) -> (-95, 12.5) construction
  line L60 (-95, 12.5) -> (-25, -12.5) construction
  line L61 (-25, 12.5) -> (-95, -12.5) construction
  line L62 (-3.5, -15.283) -> (-3.5, -8.7545) construction
  line L63 (27.066, -15.283) -> (27.066, -7.574) construction
  line L64 (11.783, 0) -> (11.783, 6.8705) construction
  line L65 (-29, -6.824) -> (-29, 8.5)
  line L66 (-29, 8.5) -> (-71.9071, 8.5)
  line L67 (-71.9071, 8.5) -> (-29, -6.824)
  line L68 (-91, 6.824) -> (-52.7857, -6.824)
  line L69 (-52.7857, -6.824) -> (-91, -6.824)
  line L70 (-91, -6.824) -> (-91, 6.824)
  line L71 (52.066, -15.283) -> (42.066, -15.283)
  line L72 (42.066, -15.283) -> (42.066, 15.283)
  line L73 (42.066, 15.283) -> (52.066, 15.283)
  line L74 (52.066, 15.283) -> (52.066, -15.283)
  line L75 (52.066, -15.283) -> (42.066, 15.283) construction
  line L76 (42.066, -15.283) -> (52.066, 15.283) construction
  point P0 (-60, 0)
  point P1 (-60, 0)
  point P2 (47.066, 0)
  point P3 (47.066, 15.283)
  dimension "d87" = 3
  dimension "d88" = 20
  dimension "d89" = 16
  dimension "d90" = 8
  dimension "d91" = 15
  dimension "d92" = 15
  dimension "d93" = 70
  dimension "d94" = 25
  dimension "d95" = 60
  dimension "d96" = 4
  dimension "d97" = 4
  dimension "d98" = 4
  dimension "d101" = 10
  dimension "d102" = 20
extrude "Wyciągnięcie proste6" cut sketch "Szkic2" against normal through all contours A44 | A45 | A46 | A47 | A48 | A49 | L53 L52 L51 L50 | L67 L66 L65 | L68 L69 L70 | L71 L72 L73 L74
properties part number "rama" material "Aluminium 6061"
